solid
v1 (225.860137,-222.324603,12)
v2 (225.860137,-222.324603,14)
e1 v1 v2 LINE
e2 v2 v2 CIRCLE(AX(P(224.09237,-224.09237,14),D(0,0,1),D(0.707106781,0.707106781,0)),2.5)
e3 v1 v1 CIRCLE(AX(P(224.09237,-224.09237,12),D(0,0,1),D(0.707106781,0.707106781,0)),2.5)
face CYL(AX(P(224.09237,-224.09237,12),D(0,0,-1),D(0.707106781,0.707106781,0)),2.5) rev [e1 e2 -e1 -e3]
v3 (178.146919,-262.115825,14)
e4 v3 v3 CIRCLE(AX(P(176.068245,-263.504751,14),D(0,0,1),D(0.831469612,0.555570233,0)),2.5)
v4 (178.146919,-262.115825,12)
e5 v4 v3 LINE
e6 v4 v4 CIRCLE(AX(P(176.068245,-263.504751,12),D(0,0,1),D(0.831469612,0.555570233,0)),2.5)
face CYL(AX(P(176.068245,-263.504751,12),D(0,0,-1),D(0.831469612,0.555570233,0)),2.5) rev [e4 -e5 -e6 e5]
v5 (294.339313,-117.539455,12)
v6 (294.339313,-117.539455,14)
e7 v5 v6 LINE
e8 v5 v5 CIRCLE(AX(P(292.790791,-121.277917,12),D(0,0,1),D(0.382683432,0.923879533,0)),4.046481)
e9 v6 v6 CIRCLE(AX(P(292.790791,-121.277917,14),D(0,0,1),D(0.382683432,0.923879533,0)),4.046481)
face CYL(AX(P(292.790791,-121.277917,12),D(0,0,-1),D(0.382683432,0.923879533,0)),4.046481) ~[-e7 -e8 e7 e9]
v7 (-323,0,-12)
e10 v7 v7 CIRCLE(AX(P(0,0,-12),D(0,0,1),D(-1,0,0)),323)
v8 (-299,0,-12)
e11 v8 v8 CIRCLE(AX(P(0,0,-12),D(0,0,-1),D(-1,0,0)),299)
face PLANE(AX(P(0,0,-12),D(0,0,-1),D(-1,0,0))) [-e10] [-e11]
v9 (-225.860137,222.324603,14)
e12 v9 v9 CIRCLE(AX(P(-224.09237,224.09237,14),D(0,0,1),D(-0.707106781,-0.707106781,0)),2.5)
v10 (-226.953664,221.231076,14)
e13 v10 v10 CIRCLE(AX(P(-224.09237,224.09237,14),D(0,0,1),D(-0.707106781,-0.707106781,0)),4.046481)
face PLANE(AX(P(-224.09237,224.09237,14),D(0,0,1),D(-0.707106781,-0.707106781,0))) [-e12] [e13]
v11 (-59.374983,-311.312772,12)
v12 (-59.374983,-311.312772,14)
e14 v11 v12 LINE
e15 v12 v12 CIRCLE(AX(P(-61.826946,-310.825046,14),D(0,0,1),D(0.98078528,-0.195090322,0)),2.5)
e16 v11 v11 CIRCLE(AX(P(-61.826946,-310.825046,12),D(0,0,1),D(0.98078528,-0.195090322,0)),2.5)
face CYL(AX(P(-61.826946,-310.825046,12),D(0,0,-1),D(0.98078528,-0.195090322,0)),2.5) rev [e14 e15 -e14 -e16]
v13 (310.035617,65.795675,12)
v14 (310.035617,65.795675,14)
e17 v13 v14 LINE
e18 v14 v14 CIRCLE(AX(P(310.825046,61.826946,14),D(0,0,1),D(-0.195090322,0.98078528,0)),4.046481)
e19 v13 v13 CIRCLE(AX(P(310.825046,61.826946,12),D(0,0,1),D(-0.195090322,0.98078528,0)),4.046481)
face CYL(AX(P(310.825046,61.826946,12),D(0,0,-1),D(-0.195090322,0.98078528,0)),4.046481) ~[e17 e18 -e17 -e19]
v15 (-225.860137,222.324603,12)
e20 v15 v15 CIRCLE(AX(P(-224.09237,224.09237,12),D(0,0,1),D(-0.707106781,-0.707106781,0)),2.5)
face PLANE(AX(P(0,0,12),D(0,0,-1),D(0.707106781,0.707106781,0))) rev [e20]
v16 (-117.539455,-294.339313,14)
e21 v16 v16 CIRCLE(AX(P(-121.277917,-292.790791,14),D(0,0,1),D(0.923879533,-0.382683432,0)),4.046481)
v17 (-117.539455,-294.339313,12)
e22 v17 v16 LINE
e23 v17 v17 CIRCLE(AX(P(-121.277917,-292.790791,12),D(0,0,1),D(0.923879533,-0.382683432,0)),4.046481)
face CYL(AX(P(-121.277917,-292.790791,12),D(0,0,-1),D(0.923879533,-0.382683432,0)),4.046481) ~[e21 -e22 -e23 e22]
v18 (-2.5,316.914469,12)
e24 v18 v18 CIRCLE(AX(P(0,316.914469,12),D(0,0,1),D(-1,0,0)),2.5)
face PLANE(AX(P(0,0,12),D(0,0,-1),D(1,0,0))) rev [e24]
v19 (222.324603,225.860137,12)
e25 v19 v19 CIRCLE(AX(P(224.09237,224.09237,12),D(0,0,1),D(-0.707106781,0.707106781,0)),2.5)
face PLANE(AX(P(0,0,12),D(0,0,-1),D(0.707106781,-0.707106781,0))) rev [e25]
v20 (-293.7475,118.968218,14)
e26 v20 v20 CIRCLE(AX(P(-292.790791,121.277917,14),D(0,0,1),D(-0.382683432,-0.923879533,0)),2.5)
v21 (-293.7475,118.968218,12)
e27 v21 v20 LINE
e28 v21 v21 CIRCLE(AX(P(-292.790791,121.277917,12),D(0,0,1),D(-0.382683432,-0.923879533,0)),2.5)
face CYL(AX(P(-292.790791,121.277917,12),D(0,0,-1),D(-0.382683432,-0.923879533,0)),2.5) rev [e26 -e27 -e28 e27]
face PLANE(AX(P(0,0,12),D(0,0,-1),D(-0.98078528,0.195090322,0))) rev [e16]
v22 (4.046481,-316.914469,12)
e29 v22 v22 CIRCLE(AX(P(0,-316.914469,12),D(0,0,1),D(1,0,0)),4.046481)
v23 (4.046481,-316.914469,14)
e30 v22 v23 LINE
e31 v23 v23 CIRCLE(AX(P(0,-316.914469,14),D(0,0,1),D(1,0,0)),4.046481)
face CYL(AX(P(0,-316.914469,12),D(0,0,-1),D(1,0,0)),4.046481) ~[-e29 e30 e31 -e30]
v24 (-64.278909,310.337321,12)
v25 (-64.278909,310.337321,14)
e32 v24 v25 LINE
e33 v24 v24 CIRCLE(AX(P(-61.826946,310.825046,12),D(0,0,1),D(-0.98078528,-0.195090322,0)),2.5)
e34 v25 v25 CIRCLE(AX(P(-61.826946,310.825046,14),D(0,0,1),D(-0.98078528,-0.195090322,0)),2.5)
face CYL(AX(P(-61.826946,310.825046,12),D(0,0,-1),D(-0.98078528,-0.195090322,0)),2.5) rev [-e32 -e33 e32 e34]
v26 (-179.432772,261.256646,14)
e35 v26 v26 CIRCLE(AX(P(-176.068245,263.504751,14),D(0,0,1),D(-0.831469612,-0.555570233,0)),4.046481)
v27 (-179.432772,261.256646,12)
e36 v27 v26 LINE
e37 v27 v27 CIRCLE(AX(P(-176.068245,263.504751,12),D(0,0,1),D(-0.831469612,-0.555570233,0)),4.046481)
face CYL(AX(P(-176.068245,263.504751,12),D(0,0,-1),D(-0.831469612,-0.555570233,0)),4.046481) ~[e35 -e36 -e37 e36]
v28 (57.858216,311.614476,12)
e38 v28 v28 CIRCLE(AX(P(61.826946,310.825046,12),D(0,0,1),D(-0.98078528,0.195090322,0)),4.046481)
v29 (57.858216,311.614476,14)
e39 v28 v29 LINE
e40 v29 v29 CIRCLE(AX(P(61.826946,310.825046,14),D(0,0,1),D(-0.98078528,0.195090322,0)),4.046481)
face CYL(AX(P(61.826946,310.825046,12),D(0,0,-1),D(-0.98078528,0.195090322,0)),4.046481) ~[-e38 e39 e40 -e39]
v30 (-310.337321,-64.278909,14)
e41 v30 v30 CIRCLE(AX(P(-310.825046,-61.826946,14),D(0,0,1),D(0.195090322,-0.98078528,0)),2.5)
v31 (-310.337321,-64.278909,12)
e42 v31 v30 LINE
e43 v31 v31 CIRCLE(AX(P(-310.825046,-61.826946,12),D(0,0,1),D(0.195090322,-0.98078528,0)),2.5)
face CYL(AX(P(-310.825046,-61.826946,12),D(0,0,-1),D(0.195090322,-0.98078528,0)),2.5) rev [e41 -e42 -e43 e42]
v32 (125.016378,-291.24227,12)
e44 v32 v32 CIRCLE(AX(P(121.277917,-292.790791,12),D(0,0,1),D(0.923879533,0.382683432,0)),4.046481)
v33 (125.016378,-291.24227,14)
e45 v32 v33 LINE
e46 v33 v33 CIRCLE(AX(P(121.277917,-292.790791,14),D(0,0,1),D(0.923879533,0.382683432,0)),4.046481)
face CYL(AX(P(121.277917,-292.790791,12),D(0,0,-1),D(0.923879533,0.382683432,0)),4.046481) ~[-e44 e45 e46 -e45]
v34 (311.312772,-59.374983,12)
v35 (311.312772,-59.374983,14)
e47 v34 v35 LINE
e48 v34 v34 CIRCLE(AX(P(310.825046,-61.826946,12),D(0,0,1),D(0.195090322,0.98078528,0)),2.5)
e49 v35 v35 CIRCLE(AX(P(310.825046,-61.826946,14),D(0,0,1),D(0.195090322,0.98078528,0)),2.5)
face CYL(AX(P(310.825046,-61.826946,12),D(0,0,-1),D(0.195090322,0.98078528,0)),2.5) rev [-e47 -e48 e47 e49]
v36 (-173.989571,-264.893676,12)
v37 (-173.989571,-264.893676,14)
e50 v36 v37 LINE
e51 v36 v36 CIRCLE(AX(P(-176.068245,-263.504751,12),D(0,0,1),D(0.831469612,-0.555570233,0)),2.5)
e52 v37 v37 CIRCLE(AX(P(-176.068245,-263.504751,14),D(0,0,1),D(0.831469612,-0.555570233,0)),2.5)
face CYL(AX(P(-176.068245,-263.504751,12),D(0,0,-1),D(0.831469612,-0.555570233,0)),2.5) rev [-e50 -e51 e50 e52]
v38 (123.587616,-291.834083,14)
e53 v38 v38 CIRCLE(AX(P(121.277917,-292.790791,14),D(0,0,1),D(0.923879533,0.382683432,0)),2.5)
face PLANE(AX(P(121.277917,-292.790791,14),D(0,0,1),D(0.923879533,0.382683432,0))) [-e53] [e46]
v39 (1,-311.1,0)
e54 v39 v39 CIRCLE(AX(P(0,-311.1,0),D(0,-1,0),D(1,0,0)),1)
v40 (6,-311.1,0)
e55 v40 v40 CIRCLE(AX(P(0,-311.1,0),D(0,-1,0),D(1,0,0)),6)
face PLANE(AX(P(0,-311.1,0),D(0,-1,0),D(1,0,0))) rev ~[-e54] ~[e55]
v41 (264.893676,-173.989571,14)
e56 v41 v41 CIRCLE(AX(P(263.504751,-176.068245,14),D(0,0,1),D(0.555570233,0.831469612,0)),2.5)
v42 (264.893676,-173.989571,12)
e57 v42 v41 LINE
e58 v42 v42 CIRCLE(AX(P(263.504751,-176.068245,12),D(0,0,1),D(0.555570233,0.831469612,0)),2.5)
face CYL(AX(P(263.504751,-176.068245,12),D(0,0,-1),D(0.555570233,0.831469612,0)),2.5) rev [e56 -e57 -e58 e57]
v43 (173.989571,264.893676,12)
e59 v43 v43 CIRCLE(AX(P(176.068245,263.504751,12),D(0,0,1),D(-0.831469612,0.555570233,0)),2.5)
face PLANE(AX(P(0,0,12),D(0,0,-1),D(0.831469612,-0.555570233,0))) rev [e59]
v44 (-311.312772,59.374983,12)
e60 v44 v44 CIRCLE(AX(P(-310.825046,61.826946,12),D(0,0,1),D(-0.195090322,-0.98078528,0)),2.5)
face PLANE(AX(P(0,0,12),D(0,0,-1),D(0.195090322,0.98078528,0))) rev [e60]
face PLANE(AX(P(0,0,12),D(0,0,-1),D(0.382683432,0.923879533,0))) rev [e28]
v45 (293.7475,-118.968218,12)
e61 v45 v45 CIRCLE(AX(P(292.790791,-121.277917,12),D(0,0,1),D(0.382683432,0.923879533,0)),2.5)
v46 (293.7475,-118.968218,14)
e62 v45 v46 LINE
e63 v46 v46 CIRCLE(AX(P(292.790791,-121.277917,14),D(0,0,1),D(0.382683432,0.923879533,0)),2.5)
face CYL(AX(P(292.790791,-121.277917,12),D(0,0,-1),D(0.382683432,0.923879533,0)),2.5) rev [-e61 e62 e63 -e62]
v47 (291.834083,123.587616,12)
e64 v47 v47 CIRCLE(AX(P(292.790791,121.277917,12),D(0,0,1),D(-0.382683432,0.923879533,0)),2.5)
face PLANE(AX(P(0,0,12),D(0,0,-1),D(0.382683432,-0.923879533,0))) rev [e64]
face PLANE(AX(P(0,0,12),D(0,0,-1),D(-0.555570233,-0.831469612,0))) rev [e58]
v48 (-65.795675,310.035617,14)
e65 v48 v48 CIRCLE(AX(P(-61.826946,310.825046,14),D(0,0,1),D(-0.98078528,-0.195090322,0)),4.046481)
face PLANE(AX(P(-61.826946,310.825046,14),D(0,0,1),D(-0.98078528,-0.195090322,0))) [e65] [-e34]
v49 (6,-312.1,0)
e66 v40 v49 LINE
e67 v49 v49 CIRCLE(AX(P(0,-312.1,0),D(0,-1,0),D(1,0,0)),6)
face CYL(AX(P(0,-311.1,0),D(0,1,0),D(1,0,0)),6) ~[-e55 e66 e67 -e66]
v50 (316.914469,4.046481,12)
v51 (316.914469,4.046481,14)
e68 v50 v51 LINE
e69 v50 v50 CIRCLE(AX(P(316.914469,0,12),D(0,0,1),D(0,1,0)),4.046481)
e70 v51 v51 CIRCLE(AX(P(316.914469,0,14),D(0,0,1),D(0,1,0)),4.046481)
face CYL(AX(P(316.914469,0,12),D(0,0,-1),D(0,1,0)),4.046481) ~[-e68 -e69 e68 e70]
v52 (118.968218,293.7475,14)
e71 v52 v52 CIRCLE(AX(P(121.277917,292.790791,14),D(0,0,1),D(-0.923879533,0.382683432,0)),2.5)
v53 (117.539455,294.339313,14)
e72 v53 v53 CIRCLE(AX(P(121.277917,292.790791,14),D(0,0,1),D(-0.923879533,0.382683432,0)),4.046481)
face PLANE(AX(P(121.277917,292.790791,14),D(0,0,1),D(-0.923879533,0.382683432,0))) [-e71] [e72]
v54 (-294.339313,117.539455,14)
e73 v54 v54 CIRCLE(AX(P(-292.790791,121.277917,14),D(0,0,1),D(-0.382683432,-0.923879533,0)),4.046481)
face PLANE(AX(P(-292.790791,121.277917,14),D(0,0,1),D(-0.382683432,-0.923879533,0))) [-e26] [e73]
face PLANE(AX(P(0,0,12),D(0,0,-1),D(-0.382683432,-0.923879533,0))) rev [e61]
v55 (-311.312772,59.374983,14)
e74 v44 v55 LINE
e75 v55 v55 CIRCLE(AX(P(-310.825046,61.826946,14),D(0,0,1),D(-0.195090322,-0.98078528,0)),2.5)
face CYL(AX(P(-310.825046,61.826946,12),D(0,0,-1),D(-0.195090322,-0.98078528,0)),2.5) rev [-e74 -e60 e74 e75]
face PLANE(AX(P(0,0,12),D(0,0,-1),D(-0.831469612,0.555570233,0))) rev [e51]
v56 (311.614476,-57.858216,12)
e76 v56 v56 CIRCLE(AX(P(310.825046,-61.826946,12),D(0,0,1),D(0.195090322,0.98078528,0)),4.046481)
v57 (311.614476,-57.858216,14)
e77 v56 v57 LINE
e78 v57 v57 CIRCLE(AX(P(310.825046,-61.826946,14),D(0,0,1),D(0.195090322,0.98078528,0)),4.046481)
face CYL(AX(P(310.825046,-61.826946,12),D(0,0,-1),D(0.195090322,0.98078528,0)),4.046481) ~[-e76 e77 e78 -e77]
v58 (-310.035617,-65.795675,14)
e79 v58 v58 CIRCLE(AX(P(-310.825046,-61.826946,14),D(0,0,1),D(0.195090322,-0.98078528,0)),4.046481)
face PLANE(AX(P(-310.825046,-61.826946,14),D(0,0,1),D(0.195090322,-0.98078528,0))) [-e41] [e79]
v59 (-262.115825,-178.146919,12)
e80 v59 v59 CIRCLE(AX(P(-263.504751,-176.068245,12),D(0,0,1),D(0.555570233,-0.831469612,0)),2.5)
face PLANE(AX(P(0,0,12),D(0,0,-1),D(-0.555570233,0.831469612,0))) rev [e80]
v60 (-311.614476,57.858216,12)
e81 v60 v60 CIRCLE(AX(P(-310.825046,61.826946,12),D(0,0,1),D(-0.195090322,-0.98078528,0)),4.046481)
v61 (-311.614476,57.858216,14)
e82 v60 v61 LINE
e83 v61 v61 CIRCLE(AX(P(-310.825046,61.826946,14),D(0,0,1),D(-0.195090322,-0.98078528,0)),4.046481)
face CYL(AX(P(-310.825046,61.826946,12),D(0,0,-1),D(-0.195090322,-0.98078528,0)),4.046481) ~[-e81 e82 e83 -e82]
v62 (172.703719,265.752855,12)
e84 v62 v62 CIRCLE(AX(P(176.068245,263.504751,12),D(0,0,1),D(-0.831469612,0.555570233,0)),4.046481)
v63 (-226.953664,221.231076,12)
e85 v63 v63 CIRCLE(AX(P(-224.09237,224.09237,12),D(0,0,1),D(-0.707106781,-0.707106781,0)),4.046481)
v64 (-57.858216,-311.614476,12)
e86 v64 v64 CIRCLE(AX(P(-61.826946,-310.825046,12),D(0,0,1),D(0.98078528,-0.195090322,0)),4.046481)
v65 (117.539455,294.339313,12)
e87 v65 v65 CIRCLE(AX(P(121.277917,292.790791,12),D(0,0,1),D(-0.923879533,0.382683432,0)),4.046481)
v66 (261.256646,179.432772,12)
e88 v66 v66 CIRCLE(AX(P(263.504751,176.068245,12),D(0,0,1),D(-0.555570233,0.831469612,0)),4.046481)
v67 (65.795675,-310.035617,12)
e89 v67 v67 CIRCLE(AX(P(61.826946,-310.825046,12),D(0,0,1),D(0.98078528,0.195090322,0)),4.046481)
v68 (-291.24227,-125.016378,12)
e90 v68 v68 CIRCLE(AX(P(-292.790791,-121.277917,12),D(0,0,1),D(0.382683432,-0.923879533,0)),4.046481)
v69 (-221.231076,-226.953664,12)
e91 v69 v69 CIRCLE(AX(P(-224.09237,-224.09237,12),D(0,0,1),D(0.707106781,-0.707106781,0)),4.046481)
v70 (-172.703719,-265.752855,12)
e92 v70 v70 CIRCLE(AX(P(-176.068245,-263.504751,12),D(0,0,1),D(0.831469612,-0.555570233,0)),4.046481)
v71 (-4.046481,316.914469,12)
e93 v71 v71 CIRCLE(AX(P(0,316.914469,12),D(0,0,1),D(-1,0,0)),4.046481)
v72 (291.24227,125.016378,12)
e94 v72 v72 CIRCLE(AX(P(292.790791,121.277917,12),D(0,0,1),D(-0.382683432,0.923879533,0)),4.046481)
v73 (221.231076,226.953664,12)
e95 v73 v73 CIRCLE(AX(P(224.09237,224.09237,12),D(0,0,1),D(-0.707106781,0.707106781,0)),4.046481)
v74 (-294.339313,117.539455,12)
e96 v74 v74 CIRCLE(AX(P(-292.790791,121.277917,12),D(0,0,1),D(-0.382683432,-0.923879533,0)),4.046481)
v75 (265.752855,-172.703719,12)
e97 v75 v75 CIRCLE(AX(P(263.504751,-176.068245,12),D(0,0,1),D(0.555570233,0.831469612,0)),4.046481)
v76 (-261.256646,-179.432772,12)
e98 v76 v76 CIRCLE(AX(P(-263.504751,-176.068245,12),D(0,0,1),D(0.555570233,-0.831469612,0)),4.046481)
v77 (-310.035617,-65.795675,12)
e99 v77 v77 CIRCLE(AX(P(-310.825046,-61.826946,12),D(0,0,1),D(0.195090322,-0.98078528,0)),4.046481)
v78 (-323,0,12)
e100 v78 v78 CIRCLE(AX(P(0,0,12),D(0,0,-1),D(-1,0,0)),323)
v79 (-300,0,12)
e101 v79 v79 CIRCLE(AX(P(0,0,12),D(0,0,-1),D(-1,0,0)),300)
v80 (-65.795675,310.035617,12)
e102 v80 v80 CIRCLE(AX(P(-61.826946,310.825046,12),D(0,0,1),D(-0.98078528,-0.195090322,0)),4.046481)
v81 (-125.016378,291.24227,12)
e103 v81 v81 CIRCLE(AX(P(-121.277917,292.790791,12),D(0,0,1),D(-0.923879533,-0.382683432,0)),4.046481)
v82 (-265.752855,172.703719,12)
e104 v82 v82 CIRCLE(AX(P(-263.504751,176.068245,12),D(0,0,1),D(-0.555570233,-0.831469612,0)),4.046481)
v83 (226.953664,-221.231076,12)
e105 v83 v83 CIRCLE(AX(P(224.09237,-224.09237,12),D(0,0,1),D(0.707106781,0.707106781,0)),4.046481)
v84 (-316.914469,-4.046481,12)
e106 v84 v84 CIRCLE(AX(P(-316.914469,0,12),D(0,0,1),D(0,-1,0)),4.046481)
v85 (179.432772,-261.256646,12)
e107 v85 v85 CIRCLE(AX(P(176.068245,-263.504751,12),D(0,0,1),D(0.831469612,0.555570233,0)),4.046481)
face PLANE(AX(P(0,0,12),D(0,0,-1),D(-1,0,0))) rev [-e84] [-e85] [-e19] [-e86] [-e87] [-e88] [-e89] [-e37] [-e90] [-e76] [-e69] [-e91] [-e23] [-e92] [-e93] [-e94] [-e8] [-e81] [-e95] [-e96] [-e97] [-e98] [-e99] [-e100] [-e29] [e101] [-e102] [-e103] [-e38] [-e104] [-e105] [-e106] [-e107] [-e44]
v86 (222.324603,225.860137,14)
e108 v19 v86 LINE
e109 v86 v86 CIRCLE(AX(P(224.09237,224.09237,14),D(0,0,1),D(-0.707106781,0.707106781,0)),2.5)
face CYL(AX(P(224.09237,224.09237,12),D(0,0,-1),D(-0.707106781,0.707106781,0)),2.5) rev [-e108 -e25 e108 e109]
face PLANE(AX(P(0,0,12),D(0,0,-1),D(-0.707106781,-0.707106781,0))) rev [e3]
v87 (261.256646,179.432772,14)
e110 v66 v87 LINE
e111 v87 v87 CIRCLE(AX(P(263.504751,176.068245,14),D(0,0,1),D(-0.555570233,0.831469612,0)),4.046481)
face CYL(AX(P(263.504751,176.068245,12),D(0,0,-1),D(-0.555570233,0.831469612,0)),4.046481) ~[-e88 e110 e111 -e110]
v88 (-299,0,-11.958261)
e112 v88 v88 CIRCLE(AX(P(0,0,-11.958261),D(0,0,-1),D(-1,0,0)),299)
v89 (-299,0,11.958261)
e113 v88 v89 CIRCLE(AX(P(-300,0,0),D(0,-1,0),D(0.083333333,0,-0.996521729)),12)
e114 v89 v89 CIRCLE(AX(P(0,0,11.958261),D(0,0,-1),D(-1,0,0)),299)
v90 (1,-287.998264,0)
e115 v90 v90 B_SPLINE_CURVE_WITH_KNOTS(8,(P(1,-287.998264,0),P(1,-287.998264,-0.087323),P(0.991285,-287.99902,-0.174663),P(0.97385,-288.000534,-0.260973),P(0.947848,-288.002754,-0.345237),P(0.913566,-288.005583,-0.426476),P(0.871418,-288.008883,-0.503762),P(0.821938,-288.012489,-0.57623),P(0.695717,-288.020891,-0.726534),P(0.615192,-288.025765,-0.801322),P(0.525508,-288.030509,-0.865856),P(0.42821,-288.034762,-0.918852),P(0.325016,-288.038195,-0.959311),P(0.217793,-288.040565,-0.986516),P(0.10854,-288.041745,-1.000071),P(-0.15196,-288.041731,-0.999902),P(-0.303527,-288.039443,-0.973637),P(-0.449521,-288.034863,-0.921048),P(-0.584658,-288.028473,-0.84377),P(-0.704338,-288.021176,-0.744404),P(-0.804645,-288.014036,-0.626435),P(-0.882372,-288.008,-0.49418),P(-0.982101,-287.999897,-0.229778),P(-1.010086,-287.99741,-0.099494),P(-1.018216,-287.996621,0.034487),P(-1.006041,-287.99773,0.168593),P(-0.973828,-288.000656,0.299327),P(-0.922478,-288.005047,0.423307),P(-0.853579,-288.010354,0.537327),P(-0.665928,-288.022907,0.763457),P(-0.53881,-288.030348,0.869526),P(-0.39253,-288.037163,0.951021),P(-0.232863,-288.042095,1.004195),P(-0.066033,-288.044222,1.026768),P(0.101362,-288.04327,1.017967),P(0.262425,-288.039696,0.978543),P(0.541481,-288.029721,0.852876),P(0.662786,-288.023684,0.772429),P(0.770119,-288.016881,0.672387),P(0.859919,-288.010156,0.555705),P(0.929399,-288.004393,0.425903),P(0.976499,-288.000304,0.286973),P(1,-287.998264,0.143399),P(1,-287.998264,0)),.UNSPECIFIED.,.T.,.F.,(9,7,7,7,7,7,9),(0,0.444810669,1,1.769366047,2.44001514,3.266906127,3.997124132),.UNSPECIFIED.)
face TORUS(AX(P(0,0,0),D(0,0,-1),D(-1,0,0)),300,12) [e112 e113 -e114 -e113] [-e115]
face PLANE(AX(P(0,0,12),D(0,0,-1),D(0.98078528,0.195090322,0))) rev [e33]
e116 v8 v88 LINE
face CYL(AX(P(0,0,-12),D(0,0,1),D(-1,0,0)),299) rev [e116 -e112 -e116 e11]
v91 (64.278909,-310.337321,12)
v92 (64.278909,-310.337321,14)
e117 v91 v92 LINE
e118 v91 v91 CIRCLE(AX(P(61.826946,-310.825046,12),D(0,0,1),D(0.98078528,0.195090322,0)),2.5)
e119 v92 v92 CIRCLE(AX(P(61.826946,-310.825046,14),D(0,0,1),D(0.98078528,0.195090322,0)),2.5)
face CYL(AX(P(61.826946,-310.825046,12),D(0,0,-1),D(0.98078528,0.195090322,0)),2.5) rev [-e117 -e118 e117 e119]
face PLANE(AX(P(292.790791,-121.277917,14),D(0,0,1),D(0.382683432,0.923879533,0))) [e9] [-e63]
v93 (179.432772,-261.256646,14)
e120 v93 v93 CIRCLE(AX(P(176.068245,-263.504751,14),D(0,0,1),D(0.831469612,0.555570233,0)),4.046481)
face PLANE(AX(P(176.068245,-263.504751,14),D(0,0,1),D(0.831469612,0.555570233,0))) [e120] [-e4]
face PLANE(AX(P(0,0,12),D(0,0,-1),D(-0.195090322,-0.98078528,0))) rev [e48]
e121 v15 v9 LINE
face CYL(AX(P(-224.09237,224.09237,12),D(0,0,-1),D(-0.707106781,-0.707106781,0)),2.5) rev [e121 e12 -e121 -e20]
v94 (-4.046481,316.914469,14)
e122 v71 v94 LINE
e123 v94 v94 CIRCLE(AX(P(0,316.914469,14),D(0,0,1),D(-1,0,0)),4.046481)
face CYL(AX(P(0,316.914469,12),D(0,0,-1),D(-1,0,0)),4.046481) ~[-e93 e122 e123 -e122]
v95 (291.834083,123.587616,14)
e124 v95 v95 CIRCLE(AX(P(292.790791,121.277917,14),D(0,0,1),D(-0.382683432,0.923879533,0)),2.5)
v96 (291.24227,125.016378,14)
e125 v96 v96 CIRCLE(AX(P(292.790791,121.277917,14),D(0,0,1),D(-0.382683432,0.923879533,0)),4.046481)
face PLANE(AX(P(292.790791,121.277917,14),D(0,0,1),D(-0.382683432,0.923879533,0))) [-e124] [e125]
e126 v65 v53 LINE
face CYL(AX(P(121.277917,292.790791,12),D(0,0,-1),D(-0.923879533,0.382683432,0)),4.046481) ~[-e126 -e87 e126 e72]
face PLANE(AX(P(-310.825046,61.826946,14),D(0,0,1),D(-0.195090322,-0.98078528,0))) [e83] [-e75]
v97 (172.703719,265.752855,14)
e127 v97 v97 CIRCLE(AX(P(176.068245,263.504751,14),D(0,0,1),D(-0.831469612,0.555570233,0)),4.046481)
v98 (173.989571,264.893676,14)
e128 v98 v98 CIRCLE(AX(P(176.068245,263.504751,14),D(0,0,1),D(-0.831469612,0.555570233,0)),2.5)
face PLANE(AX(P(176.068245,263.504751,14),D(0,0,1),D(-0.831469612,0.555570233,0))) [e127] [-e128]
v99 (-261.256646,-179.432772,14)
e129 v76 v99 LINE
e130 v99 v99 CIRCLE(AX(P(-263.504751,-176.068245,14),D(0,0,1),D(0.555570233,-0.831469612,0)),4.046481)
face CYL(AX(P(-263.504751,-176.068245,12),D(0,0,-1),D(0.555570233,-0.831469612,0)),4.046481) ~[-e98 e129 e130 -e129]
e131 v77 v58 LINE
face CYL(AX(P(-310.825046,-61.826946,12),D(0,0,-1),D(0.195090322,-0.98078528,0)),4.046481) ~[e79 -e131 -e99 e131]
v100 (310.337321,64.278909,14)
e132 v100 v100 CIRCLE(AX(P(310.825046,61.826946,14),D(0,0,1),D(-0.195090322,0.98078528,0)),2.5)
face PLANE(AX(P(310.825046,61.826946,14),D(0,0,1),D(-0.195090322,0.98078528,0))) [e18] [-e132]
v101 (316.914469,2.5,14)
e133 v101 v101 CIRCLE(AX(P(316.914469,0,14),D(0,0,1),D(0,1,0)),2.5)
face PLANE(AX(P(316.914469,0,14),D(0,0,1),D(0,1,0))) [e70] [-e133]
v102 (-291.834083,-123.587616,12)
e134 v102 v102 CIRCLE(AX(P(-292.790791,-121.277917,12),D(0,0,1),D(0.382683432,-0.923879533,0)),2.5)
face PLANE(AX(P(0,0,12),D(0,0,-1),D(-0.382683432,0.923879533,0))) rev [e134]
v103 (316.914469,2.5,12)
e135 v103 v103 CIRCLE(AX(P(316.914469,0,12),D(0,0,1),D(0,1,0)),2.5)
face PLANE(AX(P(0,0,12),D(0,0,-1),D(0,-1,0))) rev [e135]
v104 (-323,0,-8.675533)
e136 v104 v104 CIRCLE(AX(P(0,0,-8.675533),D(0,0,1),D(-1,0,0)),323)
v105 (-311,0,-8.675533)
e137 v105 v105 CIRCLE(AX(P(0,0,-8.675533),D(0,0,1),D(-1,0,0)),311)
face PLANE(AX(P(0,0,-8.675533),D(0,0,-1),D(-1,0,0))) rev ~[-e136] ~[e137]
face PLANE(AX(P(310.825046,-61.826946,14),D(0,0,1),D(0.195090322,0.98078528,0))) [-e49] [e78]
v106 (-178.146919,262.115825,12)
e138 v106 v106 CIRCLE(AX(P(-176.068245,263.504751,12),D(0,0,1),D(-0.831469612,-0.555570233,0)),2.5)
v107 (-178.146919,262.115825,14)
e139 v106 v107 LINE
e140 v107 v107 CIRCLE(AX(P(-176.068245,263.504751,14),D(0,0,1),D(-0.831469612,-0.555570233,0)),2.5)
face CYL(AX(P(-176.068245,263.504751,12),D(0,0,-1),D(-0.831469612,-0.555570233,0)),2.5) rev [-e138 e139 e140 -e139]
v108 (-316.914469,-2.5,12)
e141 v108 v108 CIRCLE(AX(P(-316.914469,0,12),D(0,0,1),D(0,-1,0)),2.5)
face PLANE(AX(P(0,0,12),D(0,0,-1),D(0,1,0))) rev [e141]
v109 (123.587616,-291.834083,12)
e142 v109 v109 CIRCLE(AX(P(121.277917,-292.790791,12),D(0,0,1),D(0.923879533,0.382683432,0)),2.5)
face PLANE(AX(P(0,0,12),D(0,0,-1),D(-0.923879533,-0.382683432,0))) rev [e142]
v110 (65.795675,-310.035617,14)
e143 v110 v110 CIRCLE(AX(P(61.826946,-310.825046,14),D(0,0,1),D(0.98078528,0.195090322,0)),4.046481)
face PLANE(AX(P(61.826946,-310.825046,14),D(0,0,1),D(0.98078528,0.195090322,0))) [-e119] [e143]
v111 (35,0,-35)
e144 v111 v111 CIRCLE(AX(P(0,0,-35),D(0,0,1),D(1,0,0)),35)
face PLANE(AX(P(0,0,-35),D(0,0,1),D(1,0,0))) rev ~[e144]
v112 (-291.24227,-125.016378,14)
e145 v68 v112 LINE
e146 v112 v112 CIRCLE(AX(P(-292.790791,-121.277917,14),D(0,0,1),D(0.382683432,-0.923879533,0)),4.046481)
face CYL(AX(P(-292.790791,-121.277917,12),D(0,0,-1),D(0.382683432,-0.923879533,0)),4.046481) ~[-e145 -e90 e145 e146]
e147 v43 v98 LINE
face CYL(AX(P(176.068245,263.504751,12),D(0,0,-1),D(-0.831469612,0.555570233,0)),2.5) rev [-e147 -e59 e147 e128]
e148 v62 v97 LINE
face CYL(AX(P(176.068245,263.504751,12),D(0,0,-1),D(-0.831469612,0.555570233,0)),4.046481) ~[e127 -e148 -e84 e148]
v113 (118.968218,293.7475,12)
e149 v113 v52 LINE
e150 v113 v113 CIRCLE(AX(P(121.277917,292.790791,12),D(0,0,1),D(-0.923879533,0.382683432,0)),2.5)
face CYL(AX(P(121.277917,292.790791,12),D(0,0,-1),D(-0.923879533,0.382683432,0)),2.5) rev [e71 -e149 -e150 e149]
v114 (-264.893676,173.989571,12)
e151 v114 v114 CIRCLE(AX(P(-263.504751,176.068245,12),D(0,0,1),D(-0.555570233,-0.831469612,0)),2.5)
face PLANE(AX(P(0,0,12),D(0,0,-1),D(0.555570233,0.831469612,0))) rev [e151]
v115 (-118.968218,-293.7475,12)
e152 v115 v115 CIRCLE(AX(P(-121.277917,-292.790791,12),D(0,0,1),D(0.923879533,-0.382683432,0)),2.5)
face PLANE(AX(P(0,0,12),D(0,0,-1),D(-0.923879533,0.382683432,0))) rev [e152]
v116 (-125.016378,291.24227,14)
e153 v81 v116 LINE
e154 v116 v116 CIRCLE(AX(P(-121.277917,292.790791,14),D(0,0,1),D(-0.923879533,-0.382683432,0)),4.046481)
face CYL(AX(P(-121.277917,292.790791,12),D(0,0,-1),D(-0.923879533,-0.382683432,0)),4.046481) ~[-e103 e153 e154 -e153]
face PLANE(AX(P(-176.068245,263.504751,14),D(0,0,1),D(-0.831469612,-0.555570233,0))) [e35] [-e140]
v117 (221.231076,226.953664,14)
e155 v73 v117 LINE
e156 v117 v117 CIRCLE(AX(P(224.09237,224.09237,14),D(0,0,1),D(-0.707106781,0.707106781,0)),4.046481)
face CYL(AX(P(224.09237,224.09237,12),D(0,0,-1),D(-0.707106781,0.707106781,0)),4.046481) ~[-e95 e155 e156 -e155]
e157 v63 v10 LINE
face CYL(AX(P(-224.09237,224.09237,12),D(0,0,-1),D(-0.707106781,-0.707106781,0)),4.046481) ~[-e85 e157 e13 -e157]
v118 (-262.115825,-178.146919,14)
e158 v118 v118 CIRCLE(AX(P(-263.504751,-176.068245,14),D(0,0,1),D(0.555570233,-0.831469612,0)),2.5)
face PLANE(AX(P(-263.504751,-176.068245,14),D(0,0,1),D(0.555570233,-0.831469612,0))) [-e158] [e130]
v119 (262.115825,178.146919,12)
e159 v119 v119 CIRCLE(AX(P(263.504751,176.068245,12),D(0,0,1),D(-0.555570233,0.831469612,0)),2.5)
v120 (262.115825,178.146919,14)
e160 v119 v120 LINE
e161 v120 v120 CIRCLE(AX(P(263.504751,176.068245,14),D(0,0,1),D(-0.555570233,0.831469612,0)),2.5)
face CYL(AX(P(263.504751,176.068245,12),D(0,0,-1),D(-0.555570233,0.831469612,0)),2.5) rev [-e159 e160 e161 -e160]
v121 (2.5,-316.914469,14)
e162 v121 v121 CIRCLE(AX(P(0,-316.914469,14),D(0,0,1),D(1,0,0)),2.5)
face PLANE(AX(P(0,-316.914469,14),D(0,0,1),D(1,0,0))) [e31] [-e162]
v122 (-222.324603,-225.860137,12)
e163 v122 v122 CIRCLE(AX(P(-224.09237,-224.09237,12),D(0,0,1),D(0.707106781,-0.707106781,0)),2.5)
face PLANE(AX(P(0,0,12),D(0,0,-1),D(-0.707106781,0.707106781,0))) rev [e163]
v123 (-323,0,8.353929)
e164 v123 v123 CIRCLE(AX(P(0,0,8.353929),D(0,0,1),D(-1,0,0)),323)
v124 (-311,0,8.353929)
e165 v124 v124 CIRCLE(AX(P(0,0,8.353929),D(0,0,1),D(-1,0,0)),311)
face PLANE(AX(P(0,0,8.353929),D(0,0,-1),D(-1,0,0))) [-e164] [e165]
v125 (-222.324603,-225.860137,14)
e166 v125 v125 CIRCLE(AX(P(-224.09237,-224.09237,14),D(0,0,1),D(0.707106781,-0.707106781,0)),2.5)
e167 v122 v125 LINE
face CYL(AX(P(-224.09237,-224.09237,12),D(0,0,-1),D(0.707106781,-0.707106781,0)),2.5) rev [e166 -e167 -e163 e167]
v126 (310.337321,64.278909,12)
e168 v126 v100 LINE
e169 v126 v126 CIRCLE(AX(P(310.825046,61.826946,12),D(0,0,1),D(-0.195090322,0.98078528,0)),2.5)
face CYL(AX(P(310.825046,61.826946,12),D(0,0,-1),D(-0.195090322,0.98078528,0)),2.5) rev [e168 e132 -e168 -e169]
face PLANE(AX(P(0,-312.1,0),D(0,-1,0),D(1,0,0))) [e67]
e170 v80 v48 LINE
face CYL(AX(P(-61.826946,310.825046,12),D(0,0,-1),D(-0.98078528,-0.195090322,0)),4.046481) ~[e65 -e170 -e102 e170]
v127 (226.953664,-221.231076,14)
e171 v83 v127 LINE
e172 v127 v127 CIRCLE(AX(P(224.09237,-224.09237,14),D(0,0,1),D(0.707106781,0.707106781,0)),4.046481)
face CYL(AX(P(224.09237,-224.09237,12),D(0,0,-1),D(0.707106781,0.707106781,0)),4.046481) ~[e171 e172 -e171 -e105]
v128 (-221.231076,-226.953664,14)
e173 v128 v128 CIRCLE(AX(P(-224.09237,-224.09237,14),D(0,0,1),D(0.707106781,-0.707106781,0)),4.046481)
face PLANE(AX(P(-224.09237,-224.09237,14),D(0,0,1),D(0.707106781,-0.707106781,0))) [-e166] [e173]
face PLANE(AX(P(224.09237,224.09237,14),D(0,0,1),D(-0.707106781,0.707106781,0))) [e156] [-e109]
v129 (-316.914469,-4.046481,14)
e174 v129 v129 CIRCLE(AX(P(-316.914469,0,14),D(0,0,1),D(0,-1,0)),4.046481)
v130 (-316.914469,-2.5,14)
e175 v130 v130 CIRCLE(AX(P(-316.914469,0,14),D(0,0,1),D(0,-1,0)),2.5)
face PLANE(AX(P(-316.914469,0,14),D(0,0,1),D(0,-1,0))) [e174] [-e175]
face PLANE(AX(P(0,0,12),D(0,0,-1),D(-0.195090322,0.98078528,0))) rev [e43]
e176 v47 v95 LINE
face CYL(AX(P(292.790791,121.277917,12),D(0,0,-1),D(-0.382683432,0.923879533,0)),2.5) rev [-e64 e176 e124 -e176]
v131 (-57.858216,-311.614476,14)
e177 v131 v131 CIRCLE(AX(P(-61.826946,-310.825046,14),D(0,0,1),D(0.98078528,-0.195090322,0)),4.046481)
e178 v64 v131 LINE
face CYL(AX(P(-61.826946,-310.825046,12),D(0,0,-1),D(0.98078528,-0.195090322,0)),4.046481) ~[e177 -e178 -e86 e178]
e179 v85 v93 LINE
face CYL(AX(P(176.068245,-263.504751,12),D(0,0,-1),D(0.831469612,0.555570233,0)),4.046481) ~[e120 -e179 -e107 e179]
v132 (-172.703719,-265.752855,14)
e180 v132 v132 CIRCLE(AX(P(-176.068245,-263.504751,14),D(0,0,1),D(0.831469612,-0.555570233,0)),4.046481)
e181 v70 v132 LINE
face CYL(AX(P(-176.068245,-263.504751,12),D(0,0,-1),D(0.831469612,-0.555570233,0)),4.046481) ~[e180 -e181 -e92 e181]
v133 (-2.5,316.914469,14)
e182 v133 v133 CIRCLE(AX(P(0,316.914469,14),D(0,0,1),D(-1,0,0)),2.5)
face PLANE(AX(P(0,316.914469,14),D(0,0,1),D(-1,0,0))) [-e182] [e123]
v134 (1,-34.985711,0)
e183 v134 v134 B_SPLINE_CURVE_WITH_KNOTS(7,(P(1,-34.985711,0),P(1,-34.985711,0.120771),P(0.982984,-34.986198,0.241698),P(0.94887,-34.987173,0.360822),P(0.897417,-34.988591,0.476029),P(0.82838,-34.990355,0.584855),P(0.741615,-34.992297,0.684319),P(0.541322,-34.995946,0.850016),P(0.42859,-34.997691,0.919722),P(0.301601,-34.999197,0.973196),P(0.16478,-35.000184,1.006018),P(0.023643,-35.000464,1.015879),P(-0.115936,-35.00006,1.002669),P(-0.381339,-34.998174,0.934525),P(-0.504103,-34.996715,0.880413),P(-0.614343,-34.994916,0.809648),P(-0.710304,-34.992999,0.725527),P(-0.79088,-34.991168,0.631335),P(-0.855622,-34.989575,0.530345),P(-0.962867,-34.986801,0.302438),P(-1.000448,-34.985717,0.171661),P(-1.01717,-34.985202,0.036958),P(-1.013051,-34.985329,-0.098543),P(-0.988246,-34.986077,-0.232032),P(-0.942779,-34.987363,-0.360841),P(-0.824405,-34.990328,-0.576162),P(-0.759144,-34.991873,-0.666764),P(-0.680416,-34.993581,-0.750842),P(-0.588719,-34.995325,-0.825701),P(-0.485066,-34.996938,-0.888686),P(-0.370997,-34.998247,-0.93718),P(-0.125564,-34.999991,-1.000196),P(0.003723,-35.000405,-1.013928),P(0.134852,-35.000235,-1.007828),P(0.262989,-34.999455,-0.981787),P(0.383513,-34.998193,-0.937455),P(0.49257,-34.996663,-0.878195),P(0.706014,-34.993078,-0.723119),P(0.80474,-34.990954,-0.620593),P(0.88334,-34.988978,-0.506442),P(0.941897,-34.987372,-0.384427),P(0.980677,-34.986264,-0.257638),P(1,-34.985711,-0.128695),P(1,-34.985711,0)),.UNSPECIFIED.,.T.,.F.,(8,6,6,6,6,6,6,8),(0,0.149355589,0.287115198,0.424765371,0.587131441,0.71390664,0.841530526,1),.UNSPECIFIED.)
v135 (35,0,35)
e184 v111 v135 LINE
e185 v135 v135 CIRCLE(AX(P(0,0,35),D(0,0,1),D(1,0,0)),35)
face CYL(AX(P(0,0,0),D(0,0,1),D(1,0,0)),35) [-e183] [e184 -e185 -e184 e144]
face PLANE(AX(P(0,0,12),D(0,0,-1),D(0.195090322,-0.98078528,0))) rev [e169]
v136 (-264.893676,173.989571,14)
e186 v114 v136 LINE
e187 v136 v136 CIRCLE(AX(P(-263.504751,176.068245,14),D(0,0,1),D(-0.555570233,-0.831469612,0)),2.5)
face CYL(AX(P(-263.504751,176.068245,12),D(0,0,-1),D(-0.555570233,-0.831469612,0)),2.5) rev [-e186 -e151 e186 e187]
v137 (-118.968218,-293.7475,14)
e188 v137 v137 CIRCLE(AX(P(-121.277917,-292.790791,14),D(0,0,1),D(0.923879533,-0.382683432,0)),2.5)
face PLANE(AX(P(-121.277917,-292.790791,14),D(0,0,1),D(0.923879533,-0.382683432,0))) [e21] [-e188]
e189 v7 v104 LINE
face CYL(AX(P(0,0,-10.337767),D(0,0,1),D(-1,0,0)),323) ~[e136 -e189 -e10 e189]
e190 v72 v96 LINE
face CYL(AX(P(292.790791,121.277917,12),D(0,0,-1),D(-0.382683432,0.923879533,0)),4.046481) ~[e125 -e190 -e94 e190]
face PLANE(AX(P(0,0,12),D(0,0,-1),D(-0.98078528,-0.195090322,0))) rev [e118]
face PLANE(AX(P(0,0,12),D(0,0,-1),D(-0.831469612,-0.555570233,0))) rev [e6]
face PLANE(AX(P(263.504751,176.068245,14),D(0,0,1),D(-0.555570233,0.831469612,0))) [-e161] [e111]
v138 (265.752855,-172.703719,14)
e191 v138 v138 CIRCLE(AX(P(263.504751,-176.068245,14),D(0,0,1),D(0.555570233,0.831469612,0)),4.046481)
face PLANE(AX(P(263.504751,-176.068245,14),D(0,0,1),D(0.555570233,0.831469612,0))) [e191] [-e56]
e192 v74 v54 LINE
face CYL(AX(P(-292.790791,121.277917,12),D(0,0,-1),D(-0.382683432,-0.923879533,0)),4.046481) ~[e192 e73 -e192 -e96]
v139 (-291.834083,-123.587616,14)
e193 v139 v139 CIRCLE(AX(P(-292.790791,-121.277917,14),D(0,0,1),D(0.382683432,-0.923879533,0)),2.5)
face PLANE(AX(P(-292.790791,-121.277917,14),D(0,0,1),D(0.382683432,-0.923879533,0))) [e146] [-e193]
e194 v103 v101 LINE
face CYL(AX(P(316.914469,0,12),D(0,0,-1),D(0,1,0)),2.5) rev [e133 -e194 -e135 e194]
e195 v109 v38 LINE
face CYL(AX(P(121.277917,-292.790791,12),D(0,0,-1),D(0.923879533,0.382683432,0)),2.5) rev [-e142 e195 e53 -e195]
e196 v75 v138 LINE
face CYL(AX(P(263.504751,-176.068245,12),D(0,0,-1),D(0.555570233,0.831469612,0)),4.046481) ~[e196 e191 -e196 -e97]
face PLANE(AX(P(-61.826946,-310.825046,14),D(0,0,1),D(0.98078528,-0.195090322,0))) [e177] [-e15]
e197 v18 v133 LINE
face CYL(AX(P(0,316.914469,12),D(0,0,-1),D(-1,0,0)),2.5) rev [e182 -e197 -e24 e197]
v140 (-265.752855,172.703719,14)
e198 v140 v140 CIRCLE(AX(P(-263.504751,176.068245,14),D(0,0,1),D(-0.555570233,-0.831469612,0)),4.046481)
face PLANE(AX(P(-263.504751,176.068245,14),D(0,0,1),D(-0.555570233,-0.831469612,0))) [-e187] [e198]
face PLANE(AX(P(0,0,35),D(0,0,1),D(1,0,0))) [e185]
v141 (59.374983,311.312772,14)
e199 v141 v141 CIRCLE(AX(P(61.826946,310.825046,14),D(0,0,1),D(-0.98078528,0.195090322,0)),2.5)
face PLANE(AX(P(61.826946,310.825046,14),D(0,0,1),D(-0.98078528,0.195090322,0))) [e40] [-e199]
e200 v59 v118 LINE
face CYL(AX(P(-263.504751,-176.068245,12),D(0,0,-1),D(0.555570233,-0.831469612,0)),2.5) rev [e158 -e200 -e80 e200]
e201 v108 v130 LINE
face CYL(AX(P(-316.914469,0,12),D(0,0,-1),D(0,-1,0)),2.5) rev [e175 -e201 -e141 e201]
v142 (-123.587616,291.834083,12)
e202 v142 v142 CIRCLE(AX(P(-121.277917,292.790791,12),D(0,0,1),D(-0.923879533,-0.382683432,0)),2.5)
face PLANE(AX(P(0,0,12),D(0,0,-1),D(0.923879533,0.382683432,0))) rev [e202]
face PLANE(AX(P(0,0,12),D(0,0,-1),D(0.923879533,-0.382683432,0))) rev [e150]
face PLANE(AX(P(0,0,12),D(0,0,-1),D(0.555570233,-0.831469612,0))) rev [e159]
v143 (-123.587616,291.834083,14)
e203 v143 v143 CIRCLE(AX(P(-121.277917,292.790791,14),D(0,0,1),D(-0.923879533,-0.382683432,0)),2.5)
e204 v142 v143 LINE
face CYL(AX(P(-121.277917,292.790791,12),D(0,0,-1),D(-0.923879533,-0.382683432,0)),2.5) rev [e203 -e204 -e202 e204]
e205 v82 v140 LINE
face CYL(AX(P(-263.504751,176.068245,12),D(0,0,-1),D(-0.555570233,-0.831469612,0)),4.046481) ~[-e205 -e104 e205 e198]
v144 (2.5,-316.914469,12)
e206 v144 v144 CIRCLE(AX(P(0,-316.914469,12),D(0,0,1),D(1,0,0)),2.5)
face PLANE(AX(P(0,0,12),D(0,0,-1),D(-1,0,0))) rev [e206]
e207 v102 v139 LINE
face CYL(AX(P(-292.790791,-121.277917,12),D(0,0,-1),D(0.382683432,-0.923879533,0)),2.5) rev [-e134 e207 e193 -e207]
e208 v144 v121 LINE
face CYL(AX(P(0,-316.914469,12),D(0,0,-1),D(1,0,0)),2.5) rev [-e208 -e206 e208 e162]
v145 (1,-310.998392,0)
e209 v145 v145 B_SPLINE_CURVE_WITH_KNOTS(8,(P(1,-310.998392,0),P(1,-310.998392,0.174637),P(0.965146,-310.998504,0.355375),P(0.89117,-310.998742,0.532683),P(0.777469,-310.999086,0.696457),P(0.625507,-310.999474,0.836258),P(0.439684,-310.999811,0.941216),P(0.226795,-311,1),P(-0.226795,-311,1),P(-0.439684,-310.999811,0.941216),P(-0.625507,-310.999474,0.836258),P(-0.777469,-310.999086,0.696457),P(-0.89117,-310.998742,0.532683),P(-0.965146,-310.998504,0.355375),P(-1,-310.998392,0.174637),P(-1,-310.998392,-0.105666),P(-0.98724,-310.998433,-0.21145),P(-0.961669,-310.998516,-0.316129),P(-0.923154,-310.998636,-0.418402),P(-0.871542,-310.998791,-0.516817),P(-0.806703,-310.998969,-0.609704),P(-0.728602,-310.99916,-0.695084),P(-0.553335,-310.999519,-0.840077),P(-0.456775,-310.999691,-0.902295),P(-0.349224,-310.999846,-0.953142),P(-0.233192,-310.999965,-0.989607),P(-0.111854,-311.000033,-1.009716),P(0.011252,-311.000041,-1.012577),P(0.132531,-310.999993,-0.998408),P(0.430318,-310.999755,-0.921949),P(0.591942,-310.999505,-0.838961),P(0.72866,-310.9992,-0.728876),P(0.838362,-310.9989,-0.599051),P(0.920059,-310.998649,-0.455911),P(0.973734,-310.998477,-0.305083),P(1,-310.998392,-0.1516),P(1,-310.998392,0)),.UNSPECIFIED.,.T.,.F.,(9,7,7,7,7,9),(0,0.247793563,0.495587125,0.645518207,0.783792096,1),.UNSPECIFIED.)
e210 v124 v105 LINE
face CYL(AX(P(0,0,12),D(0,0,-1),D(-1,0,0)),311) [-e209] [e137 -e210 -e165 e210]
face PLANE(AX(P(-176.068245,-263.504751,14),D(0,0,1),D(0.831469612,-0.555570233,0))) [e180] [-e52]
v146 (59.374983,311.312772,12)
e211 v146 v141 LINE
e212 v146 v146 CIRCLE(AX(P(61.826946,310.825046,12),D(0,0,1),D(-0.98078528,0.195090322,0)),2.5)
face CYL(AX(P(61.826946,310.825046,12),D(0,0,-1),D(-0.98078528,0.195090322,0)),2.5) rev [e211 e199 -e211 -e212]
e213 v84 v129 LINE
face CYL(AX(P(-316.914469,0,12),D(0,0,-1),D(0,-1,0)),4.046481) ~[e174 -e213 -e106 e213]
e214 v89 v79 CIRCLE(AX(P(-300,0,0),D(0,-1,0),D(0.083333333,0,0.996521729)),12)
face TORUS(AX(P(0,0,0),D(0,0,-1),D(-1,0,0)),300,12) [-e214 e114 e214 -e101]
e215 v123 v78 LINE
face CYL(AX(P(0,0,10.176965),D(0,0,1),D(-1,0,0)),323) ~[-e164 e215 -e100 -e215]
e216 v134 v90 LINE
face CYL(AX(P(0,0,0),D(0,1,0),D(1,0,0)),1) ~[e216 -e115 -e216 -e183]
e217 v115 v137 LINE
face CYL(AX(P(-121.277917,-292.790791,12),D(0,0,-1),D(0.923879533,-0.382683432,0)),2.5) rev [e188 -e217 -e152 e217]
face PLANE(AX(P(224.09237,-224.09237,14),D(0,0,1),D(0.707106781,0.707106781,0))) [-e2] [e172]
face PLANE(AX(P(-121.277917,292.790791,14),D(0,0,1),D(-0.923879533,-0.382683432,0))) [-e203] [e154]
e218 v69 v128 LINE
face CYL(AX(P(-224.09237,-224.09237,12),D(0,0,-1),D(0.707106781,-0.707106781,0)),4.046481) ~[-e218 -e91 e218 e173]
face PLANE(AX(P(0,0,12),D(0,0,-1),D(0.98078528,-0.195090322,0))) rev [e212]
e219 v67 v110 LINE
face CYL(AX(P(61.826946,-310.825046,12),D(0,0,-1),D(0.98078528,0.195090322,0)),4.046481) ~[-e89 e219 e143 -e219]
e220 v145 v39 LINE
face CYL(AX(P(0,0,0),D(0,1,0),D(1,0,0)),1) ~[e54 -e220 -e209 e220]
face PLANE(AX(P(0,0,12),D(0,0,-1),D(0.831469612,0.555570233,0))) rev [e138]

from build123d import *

# Parameters (mm, degrees)
F1_R      = 35
F2_DEPTH  = 35
F3_W      = 12
F3_H      = 3.6460709646
F3_H_2    = 3.3244666532
F5_R      = 4.0464813239
F5_R_2    = 2.5
F6_DEPTH  = 2
F7_COUNT  = 32
F8_R      = 1
F9_DEPTH  = 311.1
F10_R     = 6
F11_DEPTH = 1


with BuildPart() as f2:
    # F1 (on Top) → F2 (new body, symmetric)
    with BuildSketch(Plane.XY):
        Circle(F1_R)
    extrude(amount=F2_DEPTH, both=True)



with BuildPart() as f4:
    # F3 (on Front) → F4 (revolve)
    with BuildSketch(Plane.XZ):
        with Locations((-317, 10.1769645177)):
            Rectangle(F3_W, F3_H)
        with Locations((-317, -10.3377666734)):
            Rectangle(F3_W, F3_H_2)
        with BuildLine():
            ThreePointArc((-299, -11.9582607431), (-299.4995646481, -11.9895606449), (-300, -12))
            Line((-300, -12), (-299, -12))
            Line((-299, -12), (-299, -11.9582607431))
        make_face()
        with BuildLine():
            Line((-311, 12), (-311, 8.3539290354))
            Line((-311, 8.3539290354), (-311, -8.6755333468))
            Line((-311, -8.6755333468), (-311, -12))
            Line((-311, -12), (-300, -12))
            ThreePointArc((-300, -12), (-299.4995646481, -11.9895606449), (-299, -11.9582607431))
            ThreePointArc((-299, -11.9582607431), (-288, 0), (-299, 11.9582607431))
            ThreePointArc((-299, 11.9582607431), (-299.4995646481, 11.9895606449), (-300, 12))
            Line((-300, 12), (-311, 12))
        make_face()
    revolve(axis=Axis((0, 0, -12.4049474085), (0, 0, -1)))

    # F5 (on face) → F6 (join)
    with BuildSketch(Plane.XY.offset(12)):
        with Locations((0, -316.9144690037)):
            Circle(F5_R)
        with Locations((0, -316.9144690037)):
            Circle(F5_R_2, mode=Mode.SUBTRACT)
    extrude(amount=F6_DEPTH)

    # F7: F4 ×32 about axis
    f7_axis = Axis((0, 0, 35), (0, 0, 1))


with BuildPart() as f4_1:
    add(f4.part)
    for i in range(1, F7_COUNT):
        add(f4.part.rotate(f7_axis, i * 360 / F7_COUNT))


with BuildPart() as f2_1:
    add(f2.part)

    add(f4_1.part)  # F9 merges F4
    # F8 (on Front) → F9 (join)
    with BuildSketch(Plane.XZ):
        Circle(F8_R)
    extrude(amount=F9_DEPTH)

    # F10 (on face) → F11 (join)
    with BuildSketch(Plane.XZ.offset(311.1)):
        Circle(F10_R)
    extrude(amount=F11_DEPTH)


solid = f2_1.part
